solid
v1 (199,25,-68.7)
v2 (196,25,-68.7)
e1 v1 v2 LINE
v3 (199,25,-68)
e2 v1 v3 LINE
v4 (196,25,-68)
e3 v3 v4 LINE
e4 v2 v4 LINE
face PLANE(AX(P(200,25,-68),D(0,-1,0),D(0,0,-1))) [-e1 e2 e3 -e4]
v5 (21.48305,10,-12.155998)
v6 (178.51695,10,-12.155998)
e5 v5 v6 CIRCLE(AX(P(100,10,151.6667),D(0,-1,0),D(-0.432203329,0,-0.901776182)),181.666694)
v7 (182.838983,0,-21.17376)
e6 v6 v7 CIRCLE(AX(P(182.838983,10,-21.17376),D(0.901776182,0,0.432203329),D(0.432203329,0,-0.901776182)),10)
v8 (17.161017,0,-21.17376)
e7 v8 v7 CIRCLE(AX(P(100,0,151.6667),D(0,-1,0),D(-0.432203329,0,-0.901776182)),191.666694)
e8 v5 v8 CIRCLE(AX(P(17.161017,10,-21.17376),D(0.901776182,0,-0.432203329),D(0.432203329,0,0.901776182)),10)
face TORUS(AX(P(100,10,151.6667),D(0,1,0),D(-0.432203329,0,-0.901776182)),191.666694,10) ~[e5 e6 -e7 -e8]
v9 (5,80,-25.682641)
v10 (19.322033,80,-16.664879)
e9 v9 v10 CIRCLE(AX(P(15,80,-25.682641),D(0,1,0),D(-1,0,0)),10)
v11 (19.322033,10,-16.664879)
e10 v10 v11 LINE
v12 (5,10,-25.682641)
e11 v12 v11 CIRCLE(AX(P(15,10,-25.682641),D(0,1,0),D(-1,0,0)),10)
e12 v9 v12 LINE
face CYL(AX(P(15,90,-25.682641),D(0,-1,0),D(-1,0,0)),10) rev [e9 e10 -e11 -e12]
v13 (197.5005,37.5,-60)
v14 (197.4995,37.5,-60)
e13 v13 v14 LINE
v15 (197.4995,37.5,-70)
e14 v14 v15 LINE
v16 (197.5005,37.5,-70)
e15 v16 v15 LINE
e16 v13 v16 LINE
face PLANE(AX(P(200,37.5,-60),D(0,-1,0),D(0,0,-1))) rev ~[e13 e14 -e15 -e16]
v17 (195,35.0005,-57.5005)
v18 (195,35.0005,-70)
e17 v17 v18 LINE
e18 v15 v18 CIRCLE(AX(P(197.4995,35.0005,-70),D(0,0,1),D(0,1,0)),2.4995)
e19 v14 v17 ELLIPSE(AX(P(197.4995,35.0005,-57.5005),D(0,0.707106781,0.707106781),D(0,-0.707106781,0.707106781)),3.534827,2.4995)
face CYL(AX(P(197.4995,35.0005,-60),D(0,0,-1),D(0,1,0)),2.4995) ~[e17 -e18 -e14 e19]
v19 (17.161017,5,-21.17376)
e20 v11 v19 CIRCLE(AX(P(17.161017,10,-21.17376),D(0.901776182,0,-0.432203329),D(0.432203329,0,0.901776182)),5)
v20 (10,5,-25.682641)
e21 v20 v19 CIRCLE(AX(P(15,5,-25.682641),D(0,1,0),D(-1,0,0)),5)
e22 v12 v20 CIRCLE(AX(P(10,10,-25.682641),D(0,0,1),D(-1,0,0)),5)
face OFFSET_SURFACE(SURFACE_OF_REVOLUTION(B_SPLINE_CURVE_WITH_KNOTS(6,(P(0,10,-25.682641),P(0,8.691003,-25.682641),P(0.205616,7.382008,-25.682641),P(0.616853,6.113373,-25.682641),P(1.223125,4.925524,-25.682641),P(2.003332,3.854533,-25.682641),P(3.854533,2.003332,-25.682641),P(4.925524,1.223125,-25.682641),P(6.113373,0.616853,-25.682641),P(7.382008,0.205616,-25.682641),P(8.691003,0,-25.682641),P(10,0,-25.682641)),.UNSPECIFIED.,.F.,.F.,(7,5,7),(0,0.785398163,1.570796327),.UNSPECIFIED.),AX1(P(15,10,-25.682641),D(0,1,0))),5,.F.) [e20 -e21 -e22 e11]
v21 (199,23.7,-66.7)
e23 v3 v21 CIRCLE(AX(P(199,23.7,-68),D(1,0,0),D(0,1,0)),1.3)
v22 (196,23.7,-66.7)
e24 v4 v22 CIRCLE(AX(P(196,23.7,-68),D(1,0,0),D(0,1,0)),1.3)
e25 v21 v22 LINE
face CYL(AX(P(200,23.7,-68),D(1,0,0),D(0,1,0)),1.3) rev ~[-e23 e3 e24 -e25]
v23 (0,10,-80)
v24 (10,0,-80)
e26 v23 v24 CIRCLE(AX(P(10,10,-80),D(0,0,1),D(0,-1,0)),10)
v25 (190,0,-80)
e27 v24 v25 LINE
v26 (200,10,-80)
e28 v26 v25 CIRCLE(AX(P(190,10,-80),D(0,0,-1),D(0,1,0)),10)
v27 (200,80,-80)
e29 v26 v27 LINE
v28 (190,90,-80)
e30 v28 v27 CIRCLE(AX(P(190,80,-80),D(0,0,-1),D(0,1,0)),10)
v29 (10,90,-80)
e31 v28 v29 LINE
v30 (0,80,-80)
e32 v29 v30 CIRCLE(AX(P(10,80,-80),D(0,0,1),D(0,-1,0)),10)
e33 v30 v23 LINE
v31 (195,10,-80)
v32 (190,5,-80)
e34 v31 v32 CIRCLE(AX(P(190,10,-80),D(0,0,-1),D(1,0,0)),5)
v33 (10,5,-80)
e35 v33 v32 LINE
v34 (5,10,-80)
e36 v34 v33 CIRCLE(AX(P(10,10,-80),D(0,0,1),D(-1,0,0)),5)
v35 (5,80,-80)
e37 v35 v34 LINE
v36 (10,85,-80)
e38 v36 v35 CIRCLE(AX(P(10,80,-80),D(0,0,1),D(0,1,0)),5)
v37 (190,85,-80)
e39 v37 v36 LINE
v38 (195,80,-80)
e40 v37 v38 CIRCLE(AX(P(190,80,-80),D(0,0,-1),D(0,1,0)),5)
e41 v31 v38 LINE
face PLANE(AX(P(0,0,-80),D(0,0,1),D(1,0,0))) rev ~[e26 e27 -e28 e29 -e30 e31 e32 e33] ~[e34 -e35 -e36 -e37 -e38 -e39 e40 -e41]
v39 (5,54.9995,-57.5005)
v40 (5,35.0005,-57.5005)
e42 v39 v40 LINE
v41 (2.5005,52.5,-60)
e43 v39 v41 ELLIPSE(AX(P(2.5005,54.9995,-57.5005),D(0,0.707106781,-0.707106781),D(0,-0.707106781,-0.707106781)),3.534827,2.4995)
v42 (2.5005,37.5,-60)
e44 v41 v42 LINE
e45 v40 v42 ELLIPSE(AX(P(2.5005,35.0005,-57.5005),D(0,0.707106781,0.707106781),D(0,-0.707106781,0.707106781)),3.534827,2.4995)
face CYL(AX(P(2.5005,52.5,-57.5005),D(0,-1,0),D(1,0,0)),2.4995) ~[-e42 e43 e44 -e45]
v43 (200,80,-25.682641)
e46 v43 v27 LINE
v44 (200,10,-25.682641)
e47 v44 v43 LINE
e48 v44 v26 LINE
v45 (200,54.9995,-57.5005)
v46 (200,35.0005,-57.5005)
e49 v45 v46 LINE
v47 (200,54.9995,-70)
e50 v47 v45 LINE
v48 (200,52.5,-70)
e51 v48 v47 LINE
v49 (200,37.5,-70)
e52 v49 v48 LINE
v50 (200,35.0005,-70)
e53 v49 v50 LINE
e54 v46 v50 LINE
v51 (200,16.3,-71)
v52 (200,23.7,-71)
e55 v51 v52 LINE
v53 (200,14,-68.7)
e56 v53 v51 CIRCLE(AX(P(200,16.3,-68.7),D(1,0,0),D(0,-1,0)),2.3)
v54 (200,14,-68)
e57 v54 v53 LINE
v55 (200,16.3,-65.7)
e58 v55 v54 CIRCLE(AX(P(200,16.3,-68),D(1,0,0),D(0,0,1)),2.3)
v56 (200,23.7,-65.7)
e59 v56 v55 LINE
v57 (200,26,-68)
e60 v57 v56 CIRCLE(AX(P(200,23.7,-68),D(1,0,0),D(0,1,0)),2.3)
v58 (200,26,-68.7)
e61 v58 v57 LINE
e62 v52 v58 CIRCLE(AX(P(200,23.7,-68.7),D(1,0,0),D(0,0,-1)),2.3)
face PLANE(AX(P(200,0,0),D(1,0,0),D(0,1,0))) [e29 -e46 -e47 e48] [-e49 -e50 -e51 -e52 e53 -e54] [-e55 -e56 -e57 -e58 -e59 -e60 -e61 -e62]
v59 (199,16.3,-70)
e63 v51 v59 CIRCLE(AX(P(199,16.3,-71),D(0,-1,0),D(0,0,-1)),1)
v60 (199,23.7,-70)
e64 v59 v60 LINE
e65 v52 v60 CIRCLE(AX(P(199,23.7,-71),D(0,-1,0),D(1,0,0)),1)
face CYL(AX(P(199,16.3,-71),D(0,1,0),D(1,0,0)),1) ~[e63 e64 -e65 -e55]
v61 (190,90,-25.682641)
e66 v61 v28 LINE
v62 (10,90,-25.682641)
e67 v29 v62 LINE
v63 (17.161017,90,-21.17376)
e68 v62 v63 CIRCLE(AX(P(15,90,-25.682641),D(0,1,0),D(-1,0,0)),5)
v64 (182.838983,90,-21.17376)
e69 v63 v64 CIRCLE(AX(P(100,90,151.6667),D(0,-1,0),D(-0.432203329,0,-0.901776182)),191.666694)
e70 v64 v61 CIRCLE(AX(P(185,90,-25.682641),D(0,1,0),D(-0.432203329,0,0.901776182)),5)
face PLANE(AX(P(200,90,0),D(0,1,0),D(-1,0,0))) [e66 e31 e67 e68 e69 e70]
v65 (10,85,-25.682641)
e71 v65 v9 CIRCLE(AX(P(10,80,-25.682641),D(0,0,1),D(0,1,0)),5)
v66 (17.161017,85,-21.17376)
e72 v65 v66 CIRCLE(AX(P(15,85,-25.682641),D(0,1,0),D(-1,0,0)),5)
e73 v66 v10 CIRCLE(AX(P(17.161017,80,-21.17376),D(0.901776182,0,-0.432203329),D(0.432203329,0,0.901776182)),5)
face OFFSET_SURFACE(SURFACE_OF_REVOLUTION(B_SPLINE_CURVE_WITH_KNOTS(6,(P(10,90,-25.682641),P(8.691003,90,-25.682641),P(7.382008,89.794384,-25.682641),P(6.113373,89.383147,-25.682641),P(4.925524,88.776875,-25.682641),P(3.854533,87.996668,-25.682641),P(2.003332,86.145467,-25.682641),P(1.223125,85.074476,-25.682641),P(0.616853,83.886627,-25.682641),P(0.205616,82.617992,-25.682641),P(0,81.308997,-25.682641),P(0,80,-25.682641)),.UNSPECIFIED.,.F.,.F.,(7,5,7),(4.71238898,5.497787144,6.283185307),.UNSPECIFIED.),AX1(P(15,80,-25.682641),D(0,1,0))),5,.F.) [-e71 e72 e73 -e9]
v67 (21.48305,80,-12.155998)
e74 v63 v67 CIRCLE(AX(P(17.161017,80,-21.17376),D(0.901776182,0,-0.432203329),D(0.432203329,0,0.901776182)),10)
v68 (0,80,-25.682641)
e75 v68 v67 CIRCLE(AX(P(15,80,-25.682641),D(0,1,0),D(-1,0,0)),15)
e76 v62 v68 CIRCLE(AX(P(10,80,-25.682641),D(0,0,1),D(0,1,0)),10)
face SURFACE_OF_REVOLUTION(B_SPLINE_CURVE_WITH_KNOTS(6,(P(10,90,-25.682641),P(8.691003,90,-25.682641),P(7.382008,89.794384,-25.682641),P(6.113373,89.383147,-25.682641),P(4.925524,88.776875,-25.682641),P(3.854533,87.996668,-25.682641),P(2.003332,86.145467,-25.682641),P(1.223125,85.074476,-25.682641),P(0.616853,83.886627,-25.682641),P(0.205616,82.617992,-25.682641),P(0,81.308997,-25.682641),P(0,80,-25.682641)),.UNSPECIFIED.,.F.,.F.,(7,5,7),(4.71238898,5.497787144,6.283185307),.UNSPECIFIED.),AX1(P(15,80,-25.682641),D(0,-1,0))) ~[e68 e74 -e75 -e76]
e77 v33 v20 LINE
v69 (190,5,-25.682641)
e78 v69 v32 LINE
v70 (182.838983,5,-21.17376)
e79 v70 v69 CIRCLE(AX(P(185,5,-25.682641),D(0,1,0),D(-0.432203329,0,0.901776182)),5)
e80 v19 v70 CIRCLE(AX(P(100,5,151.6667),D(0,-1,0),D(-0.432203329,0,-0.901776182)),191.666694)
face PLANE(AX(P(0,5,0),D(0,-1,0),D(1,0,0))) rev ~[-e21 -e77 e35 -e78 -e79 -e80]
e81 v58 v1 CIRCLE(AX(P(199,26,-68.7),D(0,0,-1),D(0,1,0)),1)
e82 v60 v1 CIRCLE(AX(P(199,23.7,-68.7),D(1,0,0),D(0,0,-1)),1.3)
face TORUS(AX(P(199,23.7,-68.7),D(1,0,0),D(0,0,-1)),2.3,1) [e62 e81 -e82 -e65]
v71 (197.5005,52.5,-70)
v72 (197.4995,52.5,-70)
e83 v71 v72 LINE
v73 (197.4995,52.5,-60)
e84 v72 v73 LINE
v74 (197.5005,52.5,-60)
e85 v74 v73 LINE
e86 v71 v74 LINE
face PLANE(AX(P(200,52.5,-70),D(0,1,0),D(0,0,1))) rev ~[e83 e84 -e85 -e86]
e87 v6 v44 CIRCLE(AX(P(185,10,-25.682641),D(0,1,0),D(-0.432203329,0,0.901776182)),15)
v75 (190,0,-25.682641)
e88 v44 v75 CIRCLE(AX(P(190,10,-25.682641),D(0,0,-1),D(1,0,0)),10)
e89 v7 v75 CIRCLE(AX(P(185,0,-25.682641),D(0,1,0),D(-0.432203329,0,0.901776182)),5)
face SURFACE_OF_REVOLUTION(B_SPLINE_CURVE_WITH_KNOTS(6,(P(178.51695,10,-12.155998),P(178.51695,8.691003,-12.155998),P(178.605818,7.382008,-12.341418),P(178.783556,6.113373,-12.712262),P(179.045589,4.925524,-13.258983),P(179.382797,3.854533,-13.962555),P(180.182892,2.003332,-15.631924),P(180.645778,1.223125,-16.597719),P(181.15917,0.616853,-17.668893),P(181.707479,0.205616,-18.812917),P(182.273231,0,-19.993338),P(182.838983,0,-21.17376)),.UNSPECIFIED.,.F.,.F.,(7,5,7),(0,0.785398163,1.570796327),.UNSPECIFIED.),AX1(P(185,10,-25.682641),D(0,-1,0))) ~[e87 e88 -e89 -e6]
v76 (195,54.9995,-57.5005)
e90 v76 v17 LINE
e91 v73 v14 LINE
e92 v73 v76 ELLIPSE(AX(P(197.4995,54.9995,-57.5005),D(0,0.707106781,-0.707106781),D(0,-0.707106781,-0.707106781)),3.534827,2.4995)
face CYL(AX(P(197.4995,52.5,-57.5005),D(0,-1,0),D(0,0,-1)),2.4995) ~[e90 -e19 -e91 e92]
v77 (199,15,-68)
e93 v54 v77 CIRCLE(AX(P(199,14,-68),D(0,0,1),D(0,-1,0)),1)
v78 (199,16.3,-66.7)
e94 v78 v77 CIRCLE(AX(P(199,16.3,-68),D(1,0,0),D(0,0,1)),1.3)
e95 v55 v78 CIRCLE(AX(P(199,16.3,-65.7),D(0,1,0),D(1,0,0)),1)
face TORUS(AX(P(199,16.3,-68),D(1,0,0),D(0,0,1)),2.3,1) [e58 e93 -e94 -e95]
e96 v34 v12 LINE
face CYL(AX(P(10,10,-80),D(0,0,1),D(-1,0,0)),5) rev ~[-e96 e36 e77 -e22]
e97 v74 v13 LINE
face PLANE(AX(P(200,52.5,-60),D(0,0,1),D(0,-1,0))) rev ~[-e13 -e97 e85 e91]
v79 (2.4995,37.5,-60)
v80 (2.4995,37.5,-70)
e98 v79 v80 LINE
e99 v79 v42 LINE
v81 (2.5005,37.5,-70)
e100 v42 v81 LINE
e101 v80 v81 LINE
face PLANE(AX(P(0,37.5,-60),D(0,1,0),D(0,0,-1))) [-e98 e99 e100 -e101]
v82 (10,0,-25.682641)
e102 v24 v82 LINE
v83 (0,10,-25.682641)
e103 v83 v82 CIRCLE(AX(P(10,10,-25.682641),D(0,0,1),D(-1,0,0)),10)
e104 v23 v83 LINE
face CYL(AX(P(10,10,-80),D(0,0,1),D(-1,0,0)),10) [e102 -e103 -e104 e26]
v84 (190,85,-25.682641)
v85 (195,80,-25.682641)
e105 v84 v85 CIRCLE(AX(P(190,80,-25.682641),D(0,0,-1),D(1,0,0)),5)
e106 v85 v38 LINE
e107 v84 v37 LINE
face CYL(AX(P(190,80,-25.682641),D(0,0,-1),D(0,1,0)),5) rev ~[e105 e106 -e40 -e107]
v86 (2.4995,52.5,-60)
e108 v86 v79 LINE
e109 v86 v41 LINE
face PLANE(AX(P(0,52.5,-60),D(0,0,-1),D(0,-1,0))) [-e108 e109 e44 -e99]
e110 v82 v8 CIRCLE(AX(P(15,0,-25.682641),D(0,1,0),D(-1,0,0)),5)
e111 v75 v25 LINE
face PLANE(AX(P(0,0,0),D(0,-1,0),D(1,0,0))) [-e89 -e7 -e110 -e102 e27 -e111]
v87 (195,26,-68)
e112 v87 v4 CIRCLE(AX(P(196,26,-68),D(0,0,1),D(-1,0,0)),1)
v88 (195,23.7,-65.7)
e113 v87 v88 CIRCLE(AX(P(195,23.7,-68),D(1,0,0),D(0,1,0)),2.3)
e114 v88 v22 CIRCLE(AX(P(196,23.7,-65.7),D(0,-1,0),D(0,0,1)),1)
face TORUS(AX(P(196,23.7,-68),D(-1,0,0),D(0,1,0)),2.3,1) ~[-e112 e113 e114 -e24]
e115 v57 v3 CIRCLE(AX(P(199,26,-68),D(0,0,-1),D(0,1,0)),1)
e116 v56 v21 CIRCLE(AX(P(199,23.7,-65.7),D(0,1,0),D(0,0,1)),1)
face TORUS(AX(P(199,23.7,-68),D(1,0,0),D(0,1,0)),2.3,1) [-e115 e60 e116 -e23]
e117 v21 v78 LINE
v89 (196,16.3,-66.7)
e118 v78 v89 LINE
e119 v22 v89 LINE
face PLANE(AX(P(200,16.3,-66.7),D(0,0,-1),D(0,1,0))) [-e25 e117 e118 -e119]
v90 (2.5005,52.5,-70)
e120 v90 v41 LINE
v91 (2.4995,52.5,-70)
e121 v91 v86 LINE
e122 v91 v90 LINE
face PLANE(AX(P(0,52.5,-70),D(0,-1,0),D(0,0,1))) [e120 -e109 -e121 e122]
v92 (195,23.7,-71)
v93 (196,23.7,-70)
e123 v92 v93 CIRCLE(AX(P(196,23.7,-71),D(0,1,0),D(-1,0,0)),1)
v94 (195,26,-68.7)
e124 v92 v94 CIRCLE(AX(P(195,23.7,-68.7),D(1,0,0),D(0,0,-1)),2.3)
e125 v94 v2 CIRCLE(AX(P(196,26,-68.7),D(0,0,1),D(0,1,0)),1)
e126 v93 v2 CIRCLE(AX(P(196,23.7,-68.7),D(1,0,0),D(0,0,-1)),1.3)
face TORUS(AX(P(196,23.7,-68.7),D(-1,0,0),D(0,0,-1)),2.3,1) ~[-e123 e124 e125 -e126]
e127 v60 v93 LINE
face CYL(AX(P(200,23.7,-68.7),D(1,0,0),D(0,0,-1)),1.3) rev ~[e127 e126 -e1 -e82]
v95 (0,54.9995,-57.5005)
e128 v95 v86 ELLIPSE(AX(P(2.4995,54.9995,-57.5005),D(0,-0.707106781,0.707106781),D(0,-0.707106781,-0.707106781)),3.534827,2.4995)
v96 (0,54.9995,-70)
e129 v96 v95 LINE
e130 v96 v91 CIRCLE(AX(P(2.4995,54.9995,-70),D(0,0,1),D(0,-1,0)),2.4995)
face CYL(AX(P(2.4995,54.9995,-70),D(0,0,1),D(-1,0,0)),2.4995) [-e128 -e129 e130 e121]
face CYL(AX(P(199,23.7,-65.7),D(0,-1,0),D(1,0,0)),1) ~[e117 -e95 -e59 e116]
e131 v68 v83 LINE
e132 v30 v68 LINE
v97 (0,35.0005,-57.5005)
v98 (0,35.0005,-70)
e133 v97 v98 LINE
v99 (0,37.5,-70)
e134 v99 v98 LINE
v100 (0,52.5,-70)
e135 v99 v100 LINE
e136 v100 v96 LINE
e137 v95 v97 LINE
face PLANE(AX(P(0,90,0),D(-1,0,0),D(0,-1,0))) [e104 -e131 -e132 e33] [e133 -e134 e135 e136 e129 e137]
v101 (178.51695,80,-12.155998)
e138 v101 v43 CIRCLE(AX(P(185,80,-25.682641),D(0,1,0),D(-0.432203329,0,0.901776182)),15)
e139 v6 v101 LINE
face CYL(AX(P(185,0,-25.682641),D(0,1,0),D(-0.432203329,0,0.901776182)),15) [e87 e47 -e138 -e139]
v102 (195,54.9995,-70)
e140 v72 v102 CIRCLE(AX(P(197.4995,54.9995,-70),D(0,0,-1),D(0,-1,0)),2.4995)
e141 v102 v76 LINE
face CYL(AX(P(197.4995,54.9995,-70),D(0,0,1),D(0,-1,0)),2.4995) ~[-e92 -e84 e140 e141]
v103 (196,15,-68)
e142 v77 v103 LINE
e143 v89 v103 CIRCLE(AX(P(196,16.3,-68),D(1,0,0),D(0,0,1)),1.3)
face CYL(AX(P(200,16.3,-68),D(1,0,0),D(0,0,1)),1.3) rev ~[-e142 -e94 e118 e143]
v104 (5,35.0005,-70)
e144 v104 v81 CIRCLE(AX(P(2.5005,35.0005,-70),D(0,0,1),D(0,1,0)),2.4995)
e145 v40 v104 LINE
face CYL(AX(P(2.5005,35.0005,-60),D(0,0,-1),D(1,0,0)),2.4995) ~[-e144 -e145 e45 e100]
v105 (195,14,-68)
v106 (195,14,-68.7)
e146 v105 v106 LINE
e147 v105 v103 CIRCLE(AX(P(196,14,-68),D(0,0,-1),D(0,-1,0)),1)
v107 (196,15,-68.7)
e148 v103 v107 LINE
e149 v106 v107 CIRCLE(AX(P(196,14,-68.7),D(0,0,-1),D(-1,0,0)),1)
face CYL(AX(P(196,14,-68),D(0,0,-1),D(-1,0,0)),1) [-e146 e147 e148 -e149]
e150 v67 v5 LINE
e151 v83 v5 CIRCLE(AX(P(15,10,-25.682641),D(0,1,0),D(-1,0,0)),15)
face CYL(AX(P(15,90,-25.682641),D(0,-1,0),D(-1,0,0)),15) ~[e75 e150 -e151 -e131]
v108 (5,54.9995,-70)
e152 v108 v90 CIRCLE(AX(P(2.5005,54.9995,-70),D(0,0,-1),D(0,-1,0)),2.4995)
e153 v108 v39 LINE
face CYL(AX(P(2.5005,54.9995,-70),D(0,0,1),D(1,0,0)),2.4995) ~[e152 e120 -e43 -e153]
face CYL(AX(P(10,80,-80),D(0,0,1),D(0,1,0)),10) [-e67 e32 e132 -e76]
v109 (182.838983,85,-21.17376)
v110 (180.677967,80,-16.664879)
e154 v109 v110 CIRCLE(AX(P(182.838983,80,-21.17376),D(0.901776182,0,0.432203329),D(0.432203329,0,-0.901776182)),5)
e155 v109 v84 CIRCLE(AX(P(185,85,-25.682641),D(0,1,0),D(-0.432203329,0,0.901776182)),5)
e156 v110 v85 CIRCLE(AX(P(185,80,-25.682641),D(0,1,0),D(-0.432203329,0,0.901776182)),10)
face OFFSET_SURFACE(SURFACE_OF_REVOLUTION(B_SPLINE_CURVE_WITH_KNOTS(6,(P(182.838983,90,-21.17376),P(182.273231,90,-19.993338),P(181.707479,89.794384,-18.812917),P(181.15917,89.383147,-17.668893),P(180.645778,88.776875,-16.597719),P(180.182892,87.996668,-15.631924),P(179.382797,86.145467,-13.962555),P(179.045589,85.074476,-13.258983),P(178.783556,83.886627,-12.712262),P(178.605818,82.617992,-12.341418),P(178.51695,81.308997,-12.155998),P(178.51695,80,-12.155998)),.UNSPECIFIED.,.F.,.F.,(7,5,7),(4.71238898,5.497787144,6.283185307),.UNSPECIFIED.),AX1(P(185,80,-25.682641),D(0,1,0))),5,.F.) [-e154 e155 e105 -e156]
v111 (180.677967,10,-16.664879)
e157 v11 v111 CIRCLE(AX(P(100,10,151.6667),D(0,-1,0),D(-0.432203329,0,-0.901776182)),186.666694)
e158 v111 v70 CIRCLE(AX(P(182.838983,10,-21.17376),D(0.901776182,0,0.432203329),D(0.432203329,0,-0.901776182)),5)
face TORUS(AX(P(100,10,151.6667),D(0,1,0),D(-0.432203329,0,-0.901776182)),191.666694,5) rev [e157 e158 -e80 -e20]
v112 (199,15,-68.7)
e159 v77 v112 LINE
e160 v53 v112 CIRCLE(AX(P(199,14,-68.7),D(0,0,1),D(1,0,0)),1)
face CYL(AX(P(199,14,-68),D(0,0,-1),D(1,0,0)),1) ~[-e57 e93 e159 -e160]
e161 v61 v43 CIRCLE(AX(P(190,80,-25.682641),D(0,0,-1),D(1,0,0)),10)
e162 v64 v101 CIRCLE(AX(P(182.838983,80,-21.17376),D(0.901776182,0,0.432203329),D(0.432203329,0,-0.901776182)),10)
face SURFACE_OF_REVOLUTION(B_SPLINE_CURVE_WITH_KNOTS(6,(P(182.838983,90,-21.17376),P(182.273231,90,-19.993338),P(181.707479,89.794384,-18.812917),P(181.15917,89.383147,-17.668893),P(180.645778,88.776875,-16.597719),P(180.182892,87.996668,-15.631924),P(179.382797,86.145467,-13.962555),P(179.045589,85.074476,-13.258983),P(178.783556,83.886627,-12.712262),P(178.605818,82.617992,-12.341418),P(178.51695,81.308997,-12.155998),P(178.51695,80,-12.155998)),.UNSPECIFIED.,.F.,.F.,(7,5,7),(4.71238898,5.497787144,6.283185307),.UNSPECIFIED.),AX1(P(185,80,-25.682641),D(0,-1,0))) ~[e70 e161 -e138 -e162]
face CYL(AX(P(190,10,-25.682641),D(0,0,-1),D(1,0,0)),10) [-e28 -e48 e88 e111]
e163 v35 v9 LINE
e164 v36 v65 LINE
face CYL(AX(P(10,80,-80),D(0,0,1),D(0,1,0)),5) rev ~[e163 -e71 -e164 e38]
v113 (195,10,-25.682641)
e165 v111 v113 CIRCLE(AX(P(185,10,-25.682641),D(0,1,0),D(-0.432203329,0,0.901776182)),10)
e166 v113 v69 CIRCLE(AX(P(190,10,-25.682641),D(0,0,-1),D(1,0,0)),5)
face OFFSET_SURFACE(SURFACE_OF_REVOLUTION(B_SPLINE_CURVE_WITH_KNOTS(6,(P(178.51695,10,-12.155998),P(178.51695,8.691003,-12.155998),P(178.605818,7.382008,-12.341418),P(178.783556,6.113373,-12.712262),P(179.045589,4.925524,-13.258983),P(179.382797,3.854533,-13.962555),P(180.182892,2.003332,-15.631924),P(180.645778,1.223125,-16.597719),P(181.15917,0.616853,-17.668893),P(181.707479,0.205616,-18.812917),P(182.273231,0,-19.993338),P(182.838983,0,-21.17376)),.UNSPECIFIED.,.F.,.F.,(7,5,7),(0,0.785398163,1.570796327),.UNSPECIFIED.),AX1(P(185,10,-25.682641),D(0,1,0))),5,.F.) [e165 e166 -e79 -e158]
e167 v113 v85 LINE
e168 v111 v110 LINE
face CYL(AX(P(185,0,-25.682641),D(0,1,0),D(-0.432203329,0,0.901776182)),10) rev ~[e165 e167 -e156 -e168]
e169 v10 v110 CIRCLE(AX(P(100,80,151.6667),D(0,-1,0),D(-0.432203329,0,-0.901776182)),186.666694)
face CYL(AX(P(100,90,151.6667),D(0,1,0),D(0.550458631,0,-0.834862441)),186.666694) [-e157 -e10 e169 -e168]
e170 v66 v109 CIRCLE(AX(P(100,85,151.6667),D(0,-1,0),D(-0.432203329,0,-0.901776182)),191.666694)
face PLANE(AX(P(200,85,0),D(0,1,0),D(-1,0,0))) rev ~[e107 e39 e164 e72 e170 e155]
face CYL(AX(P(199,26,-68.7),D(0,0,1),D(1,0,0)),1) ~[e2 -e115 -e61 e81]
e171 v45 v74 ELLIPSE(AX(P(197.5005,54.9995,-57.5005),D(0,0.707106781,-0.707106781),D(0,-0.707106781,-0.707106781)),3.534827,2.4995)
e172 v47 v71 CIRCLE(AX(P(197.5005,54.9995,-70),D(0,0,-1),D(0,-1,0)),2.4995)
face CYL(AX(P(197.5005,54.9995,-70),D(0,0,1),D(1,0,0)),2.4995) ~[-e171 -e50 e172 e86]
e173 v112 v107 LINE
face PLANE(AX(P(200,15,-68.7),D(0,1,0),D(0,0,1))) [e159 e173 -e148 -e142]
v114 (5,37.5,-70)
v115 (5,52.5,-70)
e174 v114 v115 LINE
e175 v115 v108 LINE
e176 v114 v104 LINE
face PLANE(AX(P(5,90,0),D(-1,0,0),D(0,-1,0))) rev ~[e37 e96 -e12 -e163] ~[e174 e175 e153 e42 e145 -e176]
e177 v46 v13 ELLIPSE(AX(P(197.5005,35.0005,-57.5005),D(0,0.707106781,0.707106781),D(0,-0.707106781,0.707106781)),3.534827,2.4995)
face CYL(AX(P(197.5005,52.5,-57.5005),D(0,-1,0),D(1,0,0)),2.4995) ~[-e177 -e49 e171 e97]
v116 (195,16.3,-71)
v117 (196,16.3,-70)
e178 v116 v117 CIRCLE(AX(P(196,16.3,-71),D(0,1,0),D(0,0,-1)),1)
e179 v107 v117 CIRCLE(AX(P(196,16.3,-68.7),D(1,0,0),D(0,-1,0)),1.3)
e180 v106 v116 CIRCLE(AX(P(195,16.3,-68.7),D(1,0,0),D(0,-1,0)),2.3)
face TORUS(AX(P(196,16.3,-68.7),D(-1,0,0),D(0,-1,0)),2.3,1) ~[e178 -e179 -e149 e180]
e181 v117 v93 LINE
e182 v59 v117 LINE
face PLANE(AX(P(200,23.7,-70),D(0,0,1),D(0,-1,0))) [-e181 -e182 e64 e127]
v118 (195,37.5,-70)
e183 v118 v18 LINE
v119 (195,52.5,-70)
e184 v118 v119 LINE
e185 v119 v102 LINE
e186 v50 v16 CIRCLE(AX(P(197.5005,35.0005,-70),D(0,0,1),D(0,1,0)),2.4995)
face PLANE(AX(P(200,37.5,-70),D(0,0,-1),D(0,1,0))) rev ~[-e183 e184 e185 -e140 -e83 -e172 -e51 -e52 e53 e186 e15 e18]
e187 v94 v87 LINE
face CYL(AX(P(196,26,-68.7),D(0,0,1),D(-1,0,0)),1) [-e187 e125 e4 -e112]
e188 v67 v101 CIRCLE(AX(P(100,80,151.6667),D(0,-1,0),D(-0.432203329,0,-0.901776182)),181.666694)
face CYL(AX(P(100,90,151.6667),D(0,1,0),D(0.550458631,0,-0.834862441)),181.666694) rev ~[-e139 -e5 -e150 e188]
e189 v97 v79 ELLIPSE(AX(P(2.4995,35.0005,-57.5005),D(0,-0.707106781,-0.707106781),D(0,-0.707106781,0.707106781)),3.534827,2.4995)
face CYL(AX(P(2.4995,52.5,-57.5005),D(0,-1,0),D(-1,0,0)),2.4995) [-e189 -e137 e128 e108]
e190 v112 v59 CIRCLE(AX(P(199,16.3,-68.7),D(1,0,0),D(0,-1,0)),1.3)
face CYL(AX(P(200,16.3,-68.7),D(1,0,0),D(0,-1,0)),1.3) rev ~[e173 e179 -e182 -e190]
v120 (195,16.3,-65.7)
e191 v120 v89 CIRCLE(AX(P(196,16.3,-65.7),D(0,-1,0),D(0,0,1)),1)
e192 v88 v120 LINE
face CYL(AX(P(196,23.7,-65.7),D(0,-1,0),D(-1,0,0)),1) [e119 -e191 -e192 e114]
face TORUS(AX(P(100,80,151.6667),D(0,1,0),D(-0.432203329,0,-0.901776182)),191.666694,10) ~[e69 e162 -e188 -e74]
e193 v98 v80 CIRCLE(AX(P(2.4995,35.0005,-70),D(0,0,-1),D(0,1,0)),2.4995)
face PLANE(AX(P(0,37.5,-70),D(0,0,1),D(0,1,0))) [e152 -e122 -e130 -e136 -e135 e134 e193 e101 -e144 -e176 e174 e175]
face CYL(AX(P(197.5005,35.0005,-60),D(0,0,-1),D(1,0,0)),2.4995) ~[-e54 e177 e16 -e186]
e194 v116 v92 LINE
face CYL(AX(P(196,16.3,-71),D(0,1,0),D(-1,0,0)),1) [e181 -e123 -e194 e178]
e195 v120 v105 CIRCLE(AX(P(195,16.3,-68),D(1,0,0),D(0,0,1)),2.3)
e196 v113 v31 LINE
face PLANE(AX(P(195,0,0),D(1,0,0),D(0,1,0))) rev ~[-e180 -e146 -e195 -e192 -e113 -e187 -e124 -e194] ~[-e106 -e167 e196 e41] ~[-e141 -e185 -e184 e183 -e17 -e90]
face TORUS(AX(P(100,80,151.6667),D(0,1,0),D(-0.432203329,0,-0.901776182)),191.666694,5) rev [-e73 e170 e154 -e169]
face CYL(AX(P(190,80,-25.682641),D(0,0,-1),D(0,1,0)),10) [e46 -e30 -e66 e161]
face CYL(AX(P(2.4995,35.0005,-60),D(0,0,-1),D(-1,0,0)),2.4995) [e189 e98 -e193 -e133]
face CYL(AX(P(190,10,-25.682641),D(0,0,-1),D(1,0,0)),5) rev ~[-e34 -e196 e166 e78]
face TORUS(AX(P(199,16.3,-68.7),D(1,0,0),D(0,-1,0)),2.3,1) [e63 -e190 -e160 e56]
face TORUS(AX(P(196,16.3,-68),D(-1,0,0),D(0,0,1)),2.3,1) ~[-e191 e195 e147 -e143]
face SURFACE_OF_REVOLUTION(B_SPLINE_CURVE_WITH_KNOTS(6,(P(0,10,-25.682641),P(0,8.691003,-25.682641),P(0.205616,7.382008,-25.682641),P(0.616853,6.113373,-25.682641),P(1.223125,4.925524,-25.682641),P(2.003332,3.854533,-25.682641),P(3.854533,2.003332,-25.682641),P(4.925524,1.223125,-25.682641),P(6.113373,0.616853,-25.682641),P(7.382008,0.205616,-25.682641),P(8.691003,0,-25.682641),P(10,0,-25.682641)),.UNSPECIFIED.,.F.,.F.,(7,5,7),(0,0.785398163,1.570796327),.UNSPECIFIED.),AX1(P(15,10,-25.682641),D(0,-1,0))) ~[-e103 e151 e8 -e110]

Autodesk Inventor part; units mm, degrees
ref_plane "YZ Plane" through (0, 0, 0) normal (1, 0, 0) x (0, 1, 0)
ref_plane "XZ Plane" through (0, 0, 0) normal (0, 1, 0) x (-1, 0, 0)
ref_plane "XY Plane" through (0, 0, 0) normal (0, 0, 1) x (1, 0, 0)
sketch "Sketch1" plane through (0, 0, 0) normal (0, 0, 1) x (1, 0, 0)
  line L0 (0, 0) -> (200, 0)
  line L1 (200, 0) -> (200, 90)
  line L2 (200, 90) -> (0, 90)
  line L3 (0, 90) -> (0, 0)
  dimension "d0" = 200
  dimension "d1" = 90
extrude "Extrusion1" add sketch "Sketch1" against normal blind 80
sketch "Sketch2" plane through (0, 90, 0) normal (0, 1, 0) x (1, 0, 0)
  line L0 (200, 0) -> (0, 0) projected
  line L1 (200, 0) -> (200, 80) projected
  line L2 (0, 80) -> (200, 80) projected
  line L3 (0, 0) -> (0, 80) projected
  circle A0 centre (100, 0) radius 30
  arc A1 (200, 0) -> (0, 0) centre (100, -151.6667) ccw
  dimension "d4" = 60
extrude "Extrusion2" cut sketch "Sketch2" against normal blind 100 contours L0 A0 A1 | L0 A0 | A0 L0 A1 picked at (94.9216, 15.5737)
fillet "Fillet1" radius 15 2 edges at (200, 45, 0) (0, 45, 0)
sketch "Sketch3" plane through (200, 0, -80) normal (1, 0, 0) x (0, 0, -1)
  line L0 (-80, 0) -> (-80, 90) projected
  line L1 (-80, 0) -> (0, 0) projected
  line L2 (0, 90) -> (0, 0) projected
  line L3 (-80, 90) -> (0, 90) projected
  line L4 (-12, 25) -> (-11.3, 25)
  line L5 (-10, 23.7) -> (-10, 16.3)
  line L6 (-11.3, 15) -> (-12, 15)
  line L7 (-13.3, 16.3) -> (-13.3, 23.7)
  arc A0 (-12, 25) -> (-13.3, 23.7) centre (-12, 23.7) ccw
  arc A1 (-10, 23.7) -> (-11.3, 25) centre (-11.3, 23.7) ccw
  arc A2 (-11.3, 15) -> (-10, 16.3) centre (-11.3, 16.3) ccw
  arc A3 (-13.3, 16.3) -> (-12, 15) centre (-12, 16.3) ccw
  point P0 (-10, 15)
  point P1 (-10, 25)
  point P2 (-13.3, 15)
  point P3 (-11.65, 15)
  dimension "d8" = 3.3
  dimension "d9" = 10
  dimension "d10" = 1.3
  dimension "d11" = 10
  dimension "d12" = 15
fillet "Fillet3" radius 10 10 edges at (7.0077, 0, -12.9892) (0, 0, -52.8413) (192.9923, 0, -12.9892) (200, 0, -52.8413) (100, 0, -30) (192.9923, 90, -12.9892) (200, 90, -52.8413) (7.0077, 90, -12.9892) (0, 90, -52.8413) (100, 90, -30)
shell "Shell2" thickness 5 removed faces 1 at (130, 30, -80)
extrude "Extrusion4" cut sketch "Sketch3" against normal blind 100 contours L4 A1 L5 A2 L6 A3 L7 A0
fillet "Fillet4" radius 1 16 edges at (200, 24.6192, -67.0808) (200, 25, -68.35) (200, 24.6192, -69.6192) (200, 20, -70) (200, 15.3808, -69.6192) (200, 15, -68.35) (200, 15.3808, -67.0808) (200, 20, -66.7) (195, 15.3808, -67.0808) (195, 15, -68.35) (195, 15.3808, -69.6192) (195, 20, -70) (195, 24.6192, -69.6192) (195, 25, -68.35) (195, 24.6192, -67.0808) (195, 20, -66.7)
sketch "Sketch6" plane through (200, 10, -25.6826) normal (1, 0, 0) x (0, 0, -1)
  line L0 (0, 70) -> (54.3174, 70) projected
  line L1 (0, 0) -> (0, 70) projected
  line L2 (54.3174, 0) -> (0, 0) projected
  line L3 (54.3174, 70) -> (54.3174, 0) projected
  arc A0 (42.3174, 16) -> (40.0174, 13.7) centre (42.3174, 13.7) ccw projected
  line L4 (43.0174, 16) -> (42.3174, 16) projected
  arc A1 (45.3174, 13.7) -> (43.0174, 16) centre (43.0174, 13.7) ccw projected
  line L5 (45.3174, 6.3) -> (45.3174, 13.7) projected
  arc A2 (43.0174, 4) -> (45.3174, 6.3) centre (43.0174, 6.3) ccw projected
  line L6 (42.3174, 4) -> (43.0174, 4) projected
  arc A3 (40.0174, 6.3) -> (42.3174, 4) centre (42.3174, 6.3) ccw projected
  line L7 (40.0174, 13.7) -> (40.0174, 6.3) projected
  line L8 (44.3174, 42.5) -> (34.3174, 42.5)
  line L9 (34.3174, 42.5) -> (34.3174, 27.5)
  line L10 (34.3174, 27.5) -> (44.3174, 27.5)
  line L11 (44.3174, 27.5) -> (44.3174, 42.5)
  point P0 (-25.6826, -10)
  point P1 (44.3174, 35)
  point P2 (54.3174, 35)
  dimension "d32" = 10
  dimension "d33" = 15
  dimension "d34" = 10
extrude "Extrusion7" cut sketch "Sketch6" against normal blind 5 contours L11 L10 L9 L8
sketch "Sketch7" plane through (0, 10, -80) normal (-1, 0, 0) x (0, 0, 1)
  line L0 (0, 70) -> (54.3174, 70) projected
  line L1 (0, 0) -> (0, 70) projected
  line L2 (54.3174, 0) -> (0, 0) projected
  line L3 (54.3174, 70) -> (54.3174, 0) projected
  line L4 (10, 42.5) -> (20, 42.5)
  line L5 (20, 42.5) -> (20, 27.5)
  line L6 (20, 27.5) -> (10, 27.5)
  line L7 (10, 27.5) -> (10, 42.5)
  point P0 (80, -10)
  point P1 (10, 35)
  point P2 (0, 35)
  dimension "d37" = 10
  dimension "d38" = 15
  dimension "d39" = 10
extrude "Extrusion8" cut sketch "Sketch7" against normal blind 5 contours L4 L5 L6 L7
fillet "Fillet5" radius 2.5 12 edges at (195, 45, -60) (195, 52.5, -65) (195, 37.5, -65) (200, 45, -60) (200, 37.5, -65) (200, 52.5, -65) (0, 45, -60) (5, 45, -60) (5, 52.5, -65) (0, 52.5, -65) (0, 37.5, -65) (5, 37.5, -65)
properties part number "BatPackCase_3DPrint"
